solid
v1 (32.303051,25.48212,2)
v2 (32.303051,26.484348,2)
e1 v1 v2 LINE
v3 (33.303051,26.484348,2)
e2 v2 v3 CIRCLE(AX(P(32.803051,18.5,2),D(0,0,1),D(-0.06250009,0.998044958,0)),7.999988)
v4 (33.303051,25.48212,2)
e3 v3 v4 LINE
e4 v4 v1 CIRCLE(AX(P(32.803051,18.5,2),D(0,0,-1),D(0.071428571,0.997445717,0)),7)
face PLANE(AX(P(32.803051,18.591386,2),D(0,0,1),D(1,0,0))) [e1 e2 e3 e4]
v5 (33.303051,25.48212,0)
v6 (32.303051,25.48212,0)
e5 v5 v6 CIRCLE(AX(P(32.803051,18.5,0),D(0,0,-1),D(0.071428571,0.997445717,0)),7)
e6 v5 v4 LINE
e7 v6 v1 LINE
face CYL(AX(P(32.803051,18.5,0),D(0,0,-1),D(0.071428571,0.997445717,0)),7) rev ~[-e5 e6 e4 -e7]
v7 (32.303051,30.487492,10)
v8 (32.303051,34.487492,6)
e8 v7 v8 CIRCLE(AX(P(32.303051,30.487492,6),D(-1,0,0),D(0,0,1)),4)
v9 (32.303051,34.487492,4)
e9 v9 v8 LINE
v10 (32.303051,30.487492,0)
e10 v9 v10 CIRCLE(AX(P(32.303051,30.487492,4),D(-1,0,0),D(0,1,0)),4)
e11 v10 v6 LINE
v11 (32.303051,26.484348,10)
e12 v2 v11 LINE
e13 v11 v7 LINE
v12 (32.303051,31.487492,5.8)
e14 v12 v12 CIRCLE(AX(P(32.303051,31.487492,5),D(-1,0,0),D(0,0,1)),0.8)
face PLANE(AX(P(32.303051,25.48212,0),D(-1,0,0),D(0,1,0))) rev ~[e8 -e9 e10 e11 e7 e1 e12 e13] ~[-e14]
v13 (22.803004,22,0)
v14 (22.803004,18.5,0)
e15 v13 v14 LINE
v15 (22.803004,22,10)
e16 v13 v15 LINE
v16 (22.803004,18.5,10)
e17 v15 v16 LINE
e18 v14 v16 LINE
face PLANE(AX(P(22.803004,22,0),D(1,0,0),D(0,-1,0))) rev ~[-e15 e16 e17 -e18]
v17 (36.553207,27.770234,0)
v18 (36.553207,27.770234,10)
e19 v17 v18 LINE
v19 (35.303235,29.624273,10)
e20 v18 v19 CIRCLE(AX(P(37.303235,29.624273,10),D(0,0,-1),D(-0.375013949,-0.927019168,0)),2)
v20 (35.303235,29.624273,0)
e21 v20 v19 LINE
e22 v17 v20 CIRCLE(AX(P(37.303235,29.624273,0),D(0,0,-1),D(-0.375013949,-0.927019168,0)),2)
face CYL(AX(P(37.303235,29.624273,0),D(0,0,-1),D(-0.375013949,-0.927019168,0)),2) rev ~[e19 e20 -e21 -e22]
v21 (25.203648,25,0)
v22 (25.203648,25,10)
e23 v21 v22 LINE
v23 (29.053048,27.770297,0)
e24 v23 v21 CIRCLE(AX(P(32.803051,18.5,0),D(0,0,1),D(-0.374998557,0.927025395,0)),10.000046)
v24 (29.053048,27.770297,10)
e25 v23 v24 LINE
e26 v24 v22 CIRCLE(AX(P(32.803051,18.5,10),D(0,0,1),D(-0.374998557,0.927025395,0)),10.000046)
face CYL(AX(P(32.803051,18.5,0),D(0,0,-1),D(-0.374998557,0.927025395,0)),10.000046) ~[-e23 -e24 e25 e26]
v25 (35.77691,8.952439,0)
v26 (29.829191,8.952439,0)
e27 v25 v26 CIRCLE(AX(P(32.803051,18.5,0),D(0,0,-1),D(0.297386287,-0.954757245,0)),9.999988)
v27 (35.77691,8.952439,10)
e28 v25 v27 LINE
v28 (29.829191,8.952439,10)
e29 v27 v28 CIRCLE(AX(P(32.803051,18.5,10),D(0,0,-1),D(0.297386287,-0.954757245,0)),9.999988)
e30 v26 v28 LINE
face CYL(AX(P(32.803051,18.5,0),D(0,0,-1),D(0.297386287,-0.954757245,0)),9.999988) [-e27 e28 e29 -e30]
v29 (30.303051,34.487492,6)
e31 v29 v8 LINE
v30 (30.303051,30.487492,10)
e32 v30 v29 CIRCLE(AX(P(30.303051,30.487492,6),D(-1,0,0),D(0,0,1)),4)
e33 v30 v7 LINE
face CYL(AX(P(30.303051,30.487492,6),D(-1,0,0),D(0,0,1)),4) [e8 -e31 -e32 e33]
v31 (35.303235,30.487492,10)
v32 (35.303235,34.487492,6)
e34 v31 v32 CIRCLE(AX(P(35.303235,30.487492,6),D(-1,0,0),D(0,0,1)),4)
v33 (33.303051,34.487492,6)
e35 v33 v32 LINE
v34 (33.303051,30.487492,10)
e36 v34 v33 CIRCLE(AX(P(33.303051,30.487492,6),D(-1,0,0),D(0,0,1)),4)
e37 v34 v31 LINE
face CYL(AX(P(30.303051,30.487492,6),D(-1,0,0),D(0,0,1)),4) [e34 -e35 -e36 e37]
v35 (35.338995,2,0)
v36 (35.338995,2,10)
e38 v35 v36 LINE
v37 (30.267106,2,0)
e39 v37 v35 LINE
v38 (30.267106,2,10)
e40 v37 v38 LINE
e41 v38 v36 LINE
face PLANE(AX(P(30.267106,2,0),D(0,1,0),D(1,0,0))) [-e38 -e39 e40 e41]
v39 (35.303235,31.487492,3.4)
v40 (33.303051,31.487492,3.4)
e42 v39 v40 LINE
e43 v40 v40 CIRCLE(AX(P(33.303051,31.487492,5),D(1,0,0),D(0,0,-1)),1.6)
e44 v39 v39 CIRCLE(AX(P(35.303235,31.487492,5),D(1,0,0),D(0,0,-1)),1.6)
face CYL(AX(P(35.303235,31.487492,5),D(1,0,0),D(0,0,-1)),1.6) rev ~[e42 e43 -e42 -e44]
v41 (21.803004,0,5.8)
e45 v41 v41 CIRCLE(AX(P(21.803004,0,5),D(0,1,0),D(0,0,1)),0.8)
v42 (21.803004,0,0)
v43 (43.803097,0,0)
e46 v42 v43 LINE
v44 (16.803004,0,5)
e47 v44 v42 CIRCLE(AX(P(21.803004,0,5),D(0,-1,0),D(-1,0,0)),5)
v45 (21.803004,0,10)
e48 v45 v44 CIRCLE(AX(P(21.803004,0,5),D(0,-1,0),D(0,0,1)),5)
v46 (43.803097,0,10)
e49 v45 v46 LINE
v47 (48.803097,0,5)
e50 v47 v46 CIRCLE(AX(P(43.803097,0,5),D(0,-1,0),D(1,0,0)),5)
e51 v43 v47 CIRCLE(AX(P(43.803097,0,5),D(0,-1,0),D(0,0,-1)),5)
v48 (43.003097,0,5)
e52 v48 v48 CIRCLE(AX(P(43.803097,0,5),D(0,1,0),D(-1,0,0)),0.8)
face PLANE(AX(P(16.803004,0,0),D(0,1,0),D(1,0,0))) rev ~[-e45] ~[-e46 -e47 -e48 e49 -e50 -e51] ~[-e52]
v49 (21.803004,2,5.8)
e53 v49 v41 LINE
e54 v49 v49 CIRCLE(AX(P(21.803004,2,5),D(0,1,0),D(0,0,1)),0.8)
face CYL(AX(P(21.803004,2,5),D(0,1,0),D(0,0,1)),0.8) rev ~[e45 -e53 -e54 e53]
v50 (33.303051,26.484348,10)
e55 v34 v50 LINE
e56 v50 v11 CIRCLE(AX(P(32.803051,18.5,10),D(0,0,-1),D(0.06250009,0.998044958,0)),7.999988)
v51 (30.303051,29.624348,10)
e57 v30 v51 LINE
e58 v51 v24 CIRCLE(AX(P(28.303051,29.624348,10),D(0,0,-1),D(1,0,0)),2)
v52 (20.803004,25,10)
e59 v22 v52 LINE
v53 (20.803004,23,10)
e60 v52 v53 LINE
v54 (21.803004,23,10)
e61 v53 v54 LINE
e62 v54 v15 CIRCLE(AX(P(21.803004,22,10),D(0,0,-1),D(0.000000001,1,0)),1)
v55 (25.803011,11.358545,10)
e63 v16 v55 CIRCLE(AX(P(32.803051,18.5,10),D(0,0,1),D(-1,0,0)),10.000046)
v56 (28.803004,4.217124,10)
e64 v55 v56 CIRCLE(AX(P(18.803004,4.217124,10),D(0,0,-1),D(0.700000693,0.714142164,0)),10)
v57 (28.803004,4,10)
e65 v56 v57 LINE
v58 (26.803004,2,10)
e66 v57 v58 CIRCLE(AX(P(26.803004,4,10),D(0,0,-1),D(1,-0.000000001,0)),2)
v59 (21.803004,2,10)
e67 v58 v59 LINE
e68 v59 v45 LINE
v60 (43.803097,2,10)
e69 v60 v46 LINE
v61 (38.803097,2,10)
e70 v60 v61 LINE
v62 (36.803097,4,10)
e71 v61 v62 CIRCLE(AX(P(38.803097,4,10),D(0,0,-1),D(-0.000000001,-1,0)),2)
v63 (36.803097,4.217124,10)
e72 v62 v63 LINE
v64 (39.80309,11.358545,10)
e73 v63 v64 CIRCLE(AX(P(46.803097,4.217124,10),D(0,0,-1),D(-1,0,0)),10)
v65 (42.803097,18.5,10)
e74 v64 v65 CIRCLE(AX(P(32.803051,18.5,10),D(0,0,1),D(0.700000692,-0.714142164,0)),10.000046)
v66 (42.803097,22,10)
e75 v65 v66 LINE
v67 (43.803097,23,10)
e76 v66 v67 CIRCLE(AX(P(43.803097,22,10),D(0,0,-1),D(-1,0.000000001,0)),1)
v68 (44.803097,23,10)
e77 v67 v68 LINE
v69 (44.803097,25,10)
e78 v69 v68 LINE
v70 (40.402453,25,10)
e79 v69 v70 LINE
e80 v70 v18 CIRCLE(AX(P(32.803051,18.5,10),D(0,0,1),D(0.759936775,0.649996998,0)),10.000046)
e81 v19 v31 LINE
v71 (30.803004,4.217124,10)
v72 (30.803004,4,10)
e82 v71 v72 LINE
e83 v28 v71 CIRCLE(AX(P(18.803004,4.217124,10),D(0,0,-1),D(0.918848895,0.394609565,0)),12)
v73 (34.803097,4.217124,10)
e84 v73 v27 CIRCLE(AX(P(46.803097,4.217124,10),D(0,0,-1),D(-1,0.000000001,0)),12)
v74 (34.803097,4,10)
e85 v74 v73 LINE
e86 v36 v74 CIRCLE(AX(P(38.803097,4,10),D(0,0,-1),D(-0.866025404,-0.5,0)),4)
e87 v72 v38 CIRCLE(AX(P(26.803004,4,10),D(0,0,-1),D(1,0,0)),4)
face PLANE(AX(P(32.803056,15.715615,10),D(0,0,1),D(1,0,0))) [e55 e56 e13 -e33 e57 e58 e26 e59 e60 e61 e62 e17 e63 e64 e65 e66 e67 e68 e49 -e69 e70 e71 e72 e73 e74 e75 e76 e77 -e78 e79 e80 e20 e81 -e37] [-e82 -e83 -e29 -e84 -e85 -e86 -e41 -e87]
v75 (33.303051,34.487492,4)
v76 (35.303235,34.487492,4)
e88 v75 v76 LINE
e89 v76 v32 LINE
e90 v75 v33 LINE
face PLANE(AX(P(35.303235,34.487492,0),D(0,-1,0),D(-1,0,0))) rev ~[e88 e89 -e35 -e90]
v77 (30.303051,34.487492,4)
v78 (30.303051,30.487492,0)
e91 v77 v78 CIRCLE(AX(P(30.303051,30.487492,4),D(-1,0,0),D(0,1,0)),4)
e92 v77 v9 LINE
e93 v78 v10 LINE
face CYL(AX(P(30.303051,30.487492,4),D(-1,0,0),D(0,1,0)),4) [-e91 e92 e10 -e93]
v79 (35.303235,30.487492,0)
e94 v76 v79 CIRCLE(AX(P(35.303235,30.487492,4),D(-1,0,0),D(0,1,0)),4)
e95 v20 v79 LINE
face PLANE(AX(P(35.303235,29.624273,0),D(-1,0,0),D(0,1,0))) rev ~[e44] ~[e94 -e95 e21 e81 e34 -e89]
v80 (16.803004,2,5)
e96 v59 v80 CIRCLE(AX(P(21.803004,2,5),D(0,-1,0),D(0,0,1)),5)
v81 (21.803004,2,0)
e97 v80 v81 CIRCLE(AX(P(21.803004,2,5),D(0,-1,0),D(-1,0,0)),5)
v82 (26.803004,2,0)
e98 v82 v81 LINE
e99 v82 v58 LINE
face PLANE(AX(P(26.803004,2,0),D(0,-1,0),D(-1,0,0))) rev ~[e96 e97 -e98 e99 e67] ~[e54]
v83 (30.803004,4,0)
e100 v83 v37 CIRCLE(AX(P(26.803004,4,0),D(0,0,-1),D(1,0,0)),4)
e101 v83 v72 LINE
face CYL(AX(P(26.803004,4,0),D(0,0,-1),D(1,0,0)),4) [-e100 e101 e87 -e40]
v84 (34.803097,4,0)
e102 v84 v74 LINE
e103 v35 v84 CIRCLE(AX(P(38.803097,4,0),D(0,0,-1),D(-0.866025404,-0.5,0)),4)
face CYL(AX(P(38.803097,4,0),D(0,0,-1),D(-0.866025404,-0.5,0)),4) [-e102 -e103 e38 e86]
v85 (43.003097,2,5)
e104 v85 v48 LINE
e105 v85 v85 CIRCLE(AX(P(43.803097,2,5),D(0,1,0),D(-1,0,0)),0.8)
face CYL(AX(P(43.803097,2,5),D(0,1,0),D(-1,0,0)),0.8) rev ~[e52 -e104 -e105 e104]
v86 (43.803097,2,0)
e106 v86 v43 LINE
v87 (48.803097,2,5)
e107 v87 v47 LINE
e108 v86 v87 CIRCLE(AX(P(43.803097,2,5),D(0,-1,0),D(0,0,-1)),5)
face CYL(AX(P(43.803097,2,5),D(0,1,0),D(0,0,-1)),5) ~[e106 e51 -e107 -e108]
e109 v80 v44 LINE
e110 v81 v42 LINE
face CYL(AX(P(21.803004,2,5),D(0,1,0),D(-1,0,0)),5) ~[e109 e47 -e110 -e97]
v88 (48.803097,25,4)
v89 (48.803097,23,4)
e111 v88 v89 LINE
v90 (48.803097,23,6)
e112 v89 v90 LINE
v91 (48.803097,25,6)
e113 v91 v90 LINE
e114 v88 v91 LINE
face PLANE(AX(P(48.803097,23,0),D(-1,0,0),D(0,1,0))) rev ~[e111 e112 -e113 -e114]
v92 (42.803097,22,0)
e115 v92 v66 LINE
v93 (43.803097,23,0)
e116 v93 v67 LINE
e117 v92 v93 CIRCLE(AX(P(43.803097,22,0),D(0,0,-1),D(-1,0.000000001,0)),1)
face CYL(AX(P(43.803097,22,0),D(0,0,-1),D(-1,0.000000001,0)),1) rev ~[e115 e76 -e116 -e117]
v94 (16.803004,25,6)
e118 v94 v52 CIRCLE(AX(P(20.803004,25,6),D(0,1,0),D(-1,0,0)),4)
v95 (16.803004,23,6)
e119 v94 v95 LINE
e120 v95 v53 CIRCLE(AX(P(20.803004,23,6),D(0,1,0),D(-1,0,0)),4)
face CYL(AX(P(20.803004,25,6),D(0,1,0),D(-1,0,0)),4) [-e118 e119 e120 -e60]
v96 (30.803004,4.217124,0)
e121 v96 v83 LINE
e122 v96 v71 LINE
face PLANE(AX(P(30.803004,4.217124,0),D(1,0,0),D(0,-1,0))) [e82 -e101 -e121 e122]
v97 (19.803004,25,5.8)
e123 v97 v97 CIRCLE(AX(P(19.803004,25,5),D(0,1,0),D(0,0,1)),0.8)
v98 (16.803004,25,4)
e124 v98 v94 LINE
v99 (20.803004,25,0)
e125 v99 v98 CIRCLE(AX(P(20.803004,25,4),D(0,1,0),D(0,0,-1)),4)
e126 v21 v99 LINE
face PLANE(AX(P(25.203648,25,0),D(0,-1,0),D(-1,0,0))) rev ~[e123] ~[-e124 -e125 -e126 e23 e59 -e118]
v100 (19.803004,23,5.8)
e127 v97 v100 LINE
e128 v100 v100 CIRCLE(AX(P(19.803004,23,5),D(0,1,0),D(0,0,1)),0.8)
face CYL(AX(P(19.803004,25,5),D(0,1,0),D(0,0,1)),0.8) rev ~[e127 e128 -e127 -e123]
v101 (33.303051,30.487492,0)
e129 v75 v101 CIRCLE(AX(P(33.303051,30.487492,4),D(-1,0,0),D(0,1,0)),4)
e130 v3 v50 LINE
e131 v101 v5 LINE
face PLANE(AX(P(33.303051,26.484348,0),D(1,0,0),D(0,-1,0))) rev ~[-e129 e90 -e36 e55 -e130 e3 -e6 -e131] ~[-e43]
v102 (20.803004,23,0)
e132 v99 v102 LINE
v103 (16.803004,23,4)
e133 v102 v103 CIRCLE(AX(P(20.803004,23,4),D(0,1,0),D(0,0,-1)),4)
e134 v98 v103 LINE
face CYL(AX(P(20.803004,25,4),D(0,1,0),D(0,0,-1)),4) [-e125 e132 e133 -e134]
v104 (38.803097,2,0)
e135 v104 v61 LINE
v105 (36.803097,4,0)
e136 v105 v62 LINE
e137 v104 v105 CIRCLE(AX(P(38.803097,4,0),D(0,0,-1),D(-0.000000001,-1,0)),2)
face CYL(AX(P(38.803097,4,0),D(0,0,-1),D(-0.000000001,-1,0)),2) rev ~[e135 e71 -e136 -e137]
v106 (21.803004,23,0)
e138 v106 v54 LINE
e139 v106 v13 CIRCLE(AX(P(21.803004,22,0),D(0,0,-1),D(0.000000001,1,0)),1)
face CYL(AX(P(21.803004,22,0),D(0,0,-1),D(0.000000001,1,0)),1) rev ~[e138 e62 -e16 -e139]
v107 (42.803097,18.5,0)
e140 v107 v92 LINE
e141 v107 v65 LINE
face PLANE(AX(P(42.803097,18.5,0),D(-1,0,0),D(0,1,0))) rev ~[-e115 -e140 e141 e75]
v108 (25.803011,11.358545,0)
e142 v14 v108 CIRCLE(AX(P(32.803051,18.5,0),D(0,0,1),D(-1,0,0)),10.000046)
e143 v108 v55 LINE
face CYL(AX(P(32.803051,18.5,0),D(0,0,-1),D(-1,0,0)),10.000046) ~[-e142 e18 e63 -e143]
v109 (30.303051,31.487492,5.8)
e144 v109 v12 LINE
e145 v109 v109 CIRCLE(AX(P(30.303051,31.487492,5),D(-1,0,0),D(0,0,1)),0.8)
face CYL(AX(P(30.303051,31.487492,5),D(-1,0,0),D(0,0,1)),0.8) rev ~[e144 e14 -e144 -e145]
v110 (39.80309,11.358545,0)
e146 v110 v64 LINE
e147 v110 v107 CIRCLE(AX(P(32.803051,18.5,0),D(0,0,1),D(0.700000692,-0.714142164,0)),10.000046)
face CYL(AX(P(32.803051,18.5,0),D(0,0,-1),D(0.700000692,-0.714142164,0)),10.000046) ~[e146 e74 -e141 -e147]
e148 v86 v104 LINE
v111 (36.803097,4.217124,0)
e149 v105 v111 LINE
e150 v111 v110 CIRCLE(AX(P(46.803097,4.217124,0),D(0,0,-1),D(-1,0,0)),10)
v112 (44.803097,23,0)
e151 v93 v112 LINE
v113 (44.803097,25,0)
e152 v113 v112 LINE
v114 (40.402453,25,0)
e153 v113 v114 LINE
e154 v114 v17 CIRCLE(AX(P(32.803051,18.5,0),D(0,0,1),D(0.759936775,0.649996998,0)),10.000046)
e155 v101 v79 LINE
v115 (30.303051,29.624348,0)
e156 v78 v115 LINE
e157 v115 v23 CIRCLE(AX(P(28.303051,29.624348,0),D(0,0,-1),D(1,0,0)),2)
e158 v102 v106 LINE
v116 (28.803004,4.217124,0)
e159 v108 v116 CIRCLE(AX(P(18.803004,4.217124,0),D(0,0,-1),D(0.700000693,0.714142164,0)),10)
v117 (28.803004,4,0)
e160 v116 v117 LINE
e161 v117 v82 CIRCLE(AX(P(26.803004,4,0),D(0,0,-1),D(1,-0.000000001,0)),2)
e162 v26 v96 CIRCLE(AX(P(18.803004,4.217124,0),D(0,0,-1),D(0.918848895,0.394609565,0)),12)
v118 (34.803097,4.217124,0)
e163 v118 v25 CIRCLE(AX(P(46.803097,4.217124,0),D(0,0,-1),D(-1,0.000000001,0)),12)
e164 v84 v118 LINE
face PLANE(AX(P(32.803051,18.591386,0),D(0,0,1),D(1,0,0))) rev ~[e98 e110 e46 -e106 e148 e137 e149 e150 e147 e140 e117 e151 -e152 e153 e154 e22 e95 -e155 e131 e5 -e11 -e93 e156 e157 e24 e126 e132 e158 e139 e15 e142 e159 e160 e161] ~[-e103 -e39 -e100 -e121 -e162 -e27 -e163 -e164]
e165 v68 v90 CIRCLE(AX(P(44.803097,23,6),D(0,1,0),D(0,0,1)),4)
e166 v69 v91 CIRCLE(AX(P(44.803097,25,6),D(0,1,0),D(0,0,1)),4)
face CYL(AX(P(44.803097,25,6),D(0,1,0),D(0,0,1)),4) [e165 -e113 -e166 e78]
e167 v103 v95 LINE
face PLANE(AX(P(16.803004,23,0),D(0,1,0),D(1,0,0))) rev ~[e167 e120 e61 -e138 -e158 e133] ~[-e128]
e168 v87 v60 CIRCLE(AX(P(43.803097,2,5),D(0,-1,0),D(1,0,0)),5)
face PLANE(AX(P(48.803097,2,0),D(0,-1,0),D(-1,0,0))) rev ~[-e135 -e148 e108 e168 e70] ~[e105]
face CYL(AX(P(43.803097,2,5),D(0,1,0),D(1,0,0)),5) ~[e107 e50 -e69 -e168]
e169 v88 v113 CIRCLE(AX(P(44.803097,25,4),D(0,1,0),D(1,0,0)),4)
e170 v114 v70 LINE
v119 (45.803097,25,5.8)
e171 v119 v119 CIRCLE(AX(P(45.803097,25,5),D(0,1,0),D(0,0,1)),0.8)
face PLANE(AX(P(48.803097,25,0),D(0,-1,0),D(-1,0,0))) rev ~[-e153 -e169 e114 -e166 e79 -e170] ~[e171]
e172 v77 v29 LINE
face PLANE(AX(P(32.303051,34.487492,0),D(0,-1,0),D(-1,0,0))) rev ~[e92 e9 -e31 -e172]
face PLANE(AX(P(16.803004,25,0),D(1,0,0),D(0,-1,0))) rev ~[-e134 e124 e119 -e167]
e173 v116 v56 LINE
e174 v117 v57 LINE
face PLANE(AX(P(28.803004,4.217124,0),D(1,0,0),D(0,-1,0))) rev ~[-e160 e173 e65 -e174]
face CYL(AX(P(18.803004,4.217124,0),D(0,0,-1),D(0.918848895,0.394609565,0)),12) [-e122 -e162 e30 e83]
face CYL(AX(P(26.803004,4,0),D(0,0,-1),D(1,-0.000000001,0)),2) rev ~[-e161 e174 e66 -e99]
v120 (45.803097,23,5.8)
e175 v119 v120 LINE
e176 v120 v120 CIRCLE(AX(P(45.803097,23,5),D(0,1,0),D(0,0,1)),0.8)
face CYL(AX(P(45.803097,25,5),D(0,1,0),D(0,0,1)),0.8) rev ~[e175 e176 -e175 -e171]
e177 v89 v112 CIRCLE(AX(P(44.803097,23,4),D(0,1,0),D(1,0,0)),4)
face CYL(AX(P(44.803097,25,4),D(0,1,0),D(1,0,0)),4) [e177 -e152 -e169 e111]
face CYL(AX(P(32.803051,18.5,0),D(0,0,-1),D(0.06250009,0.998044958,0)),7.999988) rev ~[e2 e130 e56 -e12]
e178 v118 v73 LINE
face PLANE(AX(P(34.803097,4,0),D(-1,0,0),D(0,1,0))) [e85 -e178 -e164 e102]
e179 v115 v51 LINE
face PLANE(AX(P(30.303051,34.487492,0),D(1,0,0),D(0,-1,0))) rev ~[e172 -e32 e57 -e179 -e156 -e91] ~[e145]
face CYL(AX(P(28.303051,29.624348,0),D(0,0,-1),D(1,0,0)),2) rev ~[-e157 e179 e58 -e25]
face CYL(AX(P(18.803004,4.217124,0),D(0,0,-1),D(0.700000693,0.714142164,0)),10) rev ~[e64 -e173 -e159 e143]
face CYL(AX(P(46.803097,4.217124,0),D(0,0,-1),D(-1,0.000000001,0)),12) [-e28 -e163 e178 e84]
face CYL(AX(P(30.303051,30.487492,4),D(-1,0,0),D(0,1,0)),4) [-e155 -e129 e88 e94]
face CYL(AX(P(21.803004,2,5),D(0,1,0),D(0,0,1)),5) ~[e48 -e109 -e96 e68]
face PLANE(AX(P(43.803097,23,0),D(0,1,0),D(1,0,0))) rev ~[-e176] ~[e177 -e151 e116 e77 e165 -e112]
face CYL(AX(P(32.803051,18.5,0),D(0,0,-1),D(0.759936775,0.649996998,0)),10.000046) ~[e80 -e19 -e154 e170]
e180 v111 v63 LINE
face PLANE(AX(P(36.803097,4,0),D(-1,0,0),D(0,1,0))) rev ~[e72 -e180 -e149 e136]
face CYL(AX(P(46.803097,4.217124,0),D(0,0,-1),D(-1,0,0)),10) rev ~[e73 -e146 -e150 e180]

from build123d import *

# Parameters (mm, degrees)
BOSS_EXTRUDE1_DEPTH = 10
SKETCH3_R           = 0.8
CUT_EXTRUDE1_DEPTH  = 2
SKETCH4_R           = 0.8
CUT_EXTRUDE2_DEPTH  = 2
SKETCH5_R           = 0.8
CUT_EXTRUDE3_DEPTH  = 2
SKETCH6_R           = 0.8
CUT_EXTRUDE4_DEPTH  = 3
SKETCH7_R           = 1.6
CUT_EXTRUDE5_DEPTH  = 3
CUT_EXTRUDE6_DEPTH  = 10
BOSS_EXTRUDE2_DEPTH = 2


with BuildPart() as part:
    # Sketch1 → Boss-Extrude1 (new body)
    with BuildSketch(Plane.XY):
        with BuildLine():
            Line((16.803004448, 0), (48.803096805, 0))
            Line((48.803096805, 0), (48.803096805, 2))
            Line((48.803096805, 2), (38.803096805, 2))
            ThreePointArc((38.803096805, 2), (37.388883243, 2.585786438), (36.803096805, 4))
            Line((36.803096805, 4), (36.803096805, 4.217123744))
            ThreePointArc((36.803096805, 4.217123744), (37.58355047, 8.090102619), (39.803089878, 11.358545383))
            ThreePointArc((39.803089878, 11.358545383), (42.022639537, 14.62700324), (42.803096805, 18.5))
            Line((42.803096805, 18.5), (42.803096805, 22))
            ThreePointArc((42.803096805, 22), (43.095990024, 22.707106781), (43.803096805, 23))
            Line((43.803096805, 23), (48.803096805, 23))
            Line((48.803096805, 23), (48.803096805, 25))
            Line((48.803096805, 25), (44.105786895, 25))
            Line((44.105786895, 25), (40.40245347, 25))
            ThreePointArc((40.40245347, 25), (38.644426823, 26.616603213), (36.553207437, 27.770234489))
            ThreePointArc((36.553207437, 27.770234489), (35.644914528, 28.506251313), (35.303235335, 29.624272825))
            Line((35.303235335, 29.624272825), (35.303235335, 34.487492178))
            Line((35.303235335, 34.487492178), (33.303050626, 34.487492178))
            Line((33.303050626, 34.487492178), (33.303050626, 26.484348185))
            ThreePointArc((33.303050626, 26.484348185), (32.803050626, 10.500011503), (32.303050626, 26.484348185))
            Line((32.303050626, 26.484348185), (32.303050626, 34.487492178))
            Line((32.303050626, 34.487492178), (30.303050626, 34.487492178))
            Line((30.303050626, 34.487492178), (30.303050626, 29.624347545))
            ThreePointArc((30.303050626, 29.624347545), (29.961362151, 28.506312265), (29.05304774, 27.770296755))
            ThreePointArc((29.05304774, 27.770296755), (26.961741815, 26.616651708), (25.203647783, 25))
            Line((25.203647783, 25), (21.500314358, 25))
            Line((21.500314358, 25), (16.803004448, 25))
            Line((16.803004448, 25), (16.803004448, 23))
            Line((16.803004448, 23), (21.803004448, 23))
            ThreePointArc((21.803004448, 23), (22.510111229, 22.707106781), (22.803004448, 22))
            Line((22.803004448, 22), (22.803004448, 18.5))
            ThreePointArc((22.803004448, 18.5), (23.583461716, 14.62700324), (25.803011375, 11.358545383))
            ThreePointArc((25.803011375, 11.358545383), (28.022550783, 8.090102619), (28.803004448, 4.217123744))
            Line((28.803004448, 4.217123744), (28.803004448, 4))
            ThreePointArc((28.803004448, 4), (28.21721801, 2.585786438), (26.803004448, 2))
            Line((26.803004448, 2), (16.803004448, 2))
            Line((16.803004448, 2), (16.803004448, 0))
        make_face()
        with BuildLine():
            Line((34.803096805, 4), (34.803096805, 4.217123744))
            ThreePointArc((34.803096805, 4.217123744), (35.049071096, 6.634328662), (35.776910074, 8.952438536))
            ThreePointArc((35.776910074, 8.952438536), (32.803050626, 8.500011503), (29.829191179, 8.952438536))
            ThreePointArc((29.829191179, 8.952438536), (30.557030157, 6.634328662), (30.803004448, 4.217123744))
            Line((30.803004448, 4.217123744), (30.803004448, 4))
            ThreePointArc((30.803004448, 4), (30.666707753, 2.96472382), (30.267106063, 2))
            Line((30.267106063, 2), (35.33899519, 2))
            ThreePointArc((35.33899519, 2), (34.9393935, 2.96472382), (34.803096805, 4))
        make_face(mode=Mode.SUBTRACT)
    extrude(amount=BOSS_EXTRUDE1_DEPTH)

    # Sketch3 → Cut-Extrude1 (cut)
    with BuildSketch(Plane(origin=(0, 2, 0), x_dir=(1, 0, 0), z_dir=(0, 1, 0))):
        with BuildLine():
            ThreePointArc((48.803096805, -5), (47.338630711, -8.535533906), (43.803096805, -10))
            Line((43.803096805, -10), (48.803096805, -10))
            Line((48.803096805, -10), (48.803096805, -5))
        make_face()
        with BuildLine():
            ThreePointArc((43.803096805, 0), (47.338630711, -1.464466094), (48.803096805, -5))
            Line((48.803096805, -5), (48.803096805, 0))
            Line((48.803096805, 0), (43.803096805, 0))
        make_face()
        with Locations((43.803096805, -5)):
            Circle(SKETCH3_R)
    extrude(amount=-CUT_EXTRUDE1_DEPTH, mode=Mode.SUBTRACT)

    # Sketch4 → Cut-Extrude2 (cut)
    with BuildSketch(Plane(origin=(0, 2, 0), x_dir=(1, 0, 0), z_dir=(0, 1, 0))):
        with BuildLine():
            Line((16.803004448, 0), (16.803004448, -5))
            ThreePointArc((16.803004448, -5), (18.267470542, -1.464466094), (21.803004448, 0))
            Line((21.803004448, 0), (16.803004448, 0))
        make_face()
        with BuildLine():
            Line((16.803004448, -10), (21.803004448, -10))
            ThreePointArc((21.803004448, -10), (18.267470542, -8.535533906), (16.803004448, -5))
            Line((16.803004448, -5), (16.803004448, -10))
        make_face()
        with Locations((21.803004448, -5)):
            Circle(SKETCH4_R)
    extrude(amount=-CUT_EXTRUDE2_DEPTH, mode=Mode.SUBTRACT)

    # Sketch5 → Cut-Extrude3 (cut)
    with BuildSketch(Plane(origin=(0, 25, 0), x_dir=(1, 0, 0), z_dir=(0, 1, 0))):
        with Locations((19.803004448, -5)):
            Circle(SKETCH5_R)
        with Locations((45.803096805, -5)):
            Circle(SKETCH5_R)
        with BuildLine():
            Line((20.803004448, -10), (16.803004448, -10))
            Line((16.803004448, -10), (16.803004448, -6))
            ThreePointArc((16.803004448, -6), (17.974577323, -8.828427125), (20.803004448, -10))
        make_face()
        with BuildLine():
            Line((16.803004448, -4), (16.803004448, 0))
            Line((16.803004448, 0), (20.803004448, 0))
            ThreePointArc((20.803004448, 0), (17.974577323, -1.171572875), (16.803004448, -4))
        make_face()
        with BuildLine():
            Line((44.803096805, 0), (48.803096805, 0))
            Line((48.803096805, 0), (48.803096805, -4))
            ThreePointArc((48.803096805, -4), (47.63152393, -1.171572875), (44.803096805, 0))
        make_face()
        with BuildLine():
            Line((48.803096805, -6), (48.803096805, -10))
            Line((48.803096805, -10), (44.803096805, -10))
            ThreePointArc((44.803096805, -10), (47.63152393, -8.828427125), (48.803096805, -6))
        make_face()
    extrude(amount=-CUT_EXTRUDE3_DEPTH, mode=Mode.SUBTRACT)

    # Sketch6 → Cut-Extrude4 (cut)
    with BuildSketch(Plane.ZY.offset(-30.303050626)):
        with Locations((5, 31.487492178)):
            Circle(SKETCH6_R)
    extrude(amount=-CUT_EXTRUDE4_DEPTH, mode=Mode.SUBTRACT)

    # Sketch7 → Cut-Extrude5 (cut)
    with BuildSketch(Plane(origin=(35.303235335, 0, 0), x_dir=(0, 0, -1), z_dir=(1, 0, 0))):
        with Locations((-5, 31.487492178)):
            Circle(SKETCH7_R)
    extrude(amount=-CUT_EXTRUDE5_DEPTH, mode=Mode.SUBTRACT)

    # Sketch8 → Cut-Extrude6 (cut)
    with BuildSketch(Plane.ZY.offset(-30.303050626)):
        with BuildLine():
            Line((0, 30.487492178), (0, 34.487492178))
            Line((0, 34.487492178), (4, 34.487492178))
            ThreePointArc((4, 34.487492178), (1.171572875, 33.315919302), (0, 30.487492178))
        make_face()
        with BuildLine():
            Line((6, 34.487492178), (10, 34.487492178))
            Line((10, 34.487492178), (10, 30.487492178))
            ThreePointArc((10, 30.487492178), (8.828427125, 33.315919302), (6, 34.487492178))
        make_face()
    extrude(amount=-CUT_EXTRUDE6_DEPTH, mode=Mode.SUBTRACT)

    # Sketch9 → Boss-Extrude2 (add)
    with BuildSketch(Plane(origin=(0, 0, 0), x_dir=(-1, 0, 0), z_dir=(0, 0, -1))):
        with BuildLine():
            Line((-33.303050626, 26.484348185), (-33.303050626, 25.482120022))
            ThreePointArc((-33.303050626, 25.482120022), (-32.803050626, 11.5), (-32.303050626, 25.482120022))
            Line((-32.303050626, 25.482120022), (-32.303050626, 26.484348185))
            ThreePointArc((-32.303050626, 26.484348185), (-32.803050626, 10.500011503), (-33.303050626, 26.484348185))
        make_face()
    extrude(amount=-BOSS_EXTRUDE2_DEPTH)


solid = part.part
